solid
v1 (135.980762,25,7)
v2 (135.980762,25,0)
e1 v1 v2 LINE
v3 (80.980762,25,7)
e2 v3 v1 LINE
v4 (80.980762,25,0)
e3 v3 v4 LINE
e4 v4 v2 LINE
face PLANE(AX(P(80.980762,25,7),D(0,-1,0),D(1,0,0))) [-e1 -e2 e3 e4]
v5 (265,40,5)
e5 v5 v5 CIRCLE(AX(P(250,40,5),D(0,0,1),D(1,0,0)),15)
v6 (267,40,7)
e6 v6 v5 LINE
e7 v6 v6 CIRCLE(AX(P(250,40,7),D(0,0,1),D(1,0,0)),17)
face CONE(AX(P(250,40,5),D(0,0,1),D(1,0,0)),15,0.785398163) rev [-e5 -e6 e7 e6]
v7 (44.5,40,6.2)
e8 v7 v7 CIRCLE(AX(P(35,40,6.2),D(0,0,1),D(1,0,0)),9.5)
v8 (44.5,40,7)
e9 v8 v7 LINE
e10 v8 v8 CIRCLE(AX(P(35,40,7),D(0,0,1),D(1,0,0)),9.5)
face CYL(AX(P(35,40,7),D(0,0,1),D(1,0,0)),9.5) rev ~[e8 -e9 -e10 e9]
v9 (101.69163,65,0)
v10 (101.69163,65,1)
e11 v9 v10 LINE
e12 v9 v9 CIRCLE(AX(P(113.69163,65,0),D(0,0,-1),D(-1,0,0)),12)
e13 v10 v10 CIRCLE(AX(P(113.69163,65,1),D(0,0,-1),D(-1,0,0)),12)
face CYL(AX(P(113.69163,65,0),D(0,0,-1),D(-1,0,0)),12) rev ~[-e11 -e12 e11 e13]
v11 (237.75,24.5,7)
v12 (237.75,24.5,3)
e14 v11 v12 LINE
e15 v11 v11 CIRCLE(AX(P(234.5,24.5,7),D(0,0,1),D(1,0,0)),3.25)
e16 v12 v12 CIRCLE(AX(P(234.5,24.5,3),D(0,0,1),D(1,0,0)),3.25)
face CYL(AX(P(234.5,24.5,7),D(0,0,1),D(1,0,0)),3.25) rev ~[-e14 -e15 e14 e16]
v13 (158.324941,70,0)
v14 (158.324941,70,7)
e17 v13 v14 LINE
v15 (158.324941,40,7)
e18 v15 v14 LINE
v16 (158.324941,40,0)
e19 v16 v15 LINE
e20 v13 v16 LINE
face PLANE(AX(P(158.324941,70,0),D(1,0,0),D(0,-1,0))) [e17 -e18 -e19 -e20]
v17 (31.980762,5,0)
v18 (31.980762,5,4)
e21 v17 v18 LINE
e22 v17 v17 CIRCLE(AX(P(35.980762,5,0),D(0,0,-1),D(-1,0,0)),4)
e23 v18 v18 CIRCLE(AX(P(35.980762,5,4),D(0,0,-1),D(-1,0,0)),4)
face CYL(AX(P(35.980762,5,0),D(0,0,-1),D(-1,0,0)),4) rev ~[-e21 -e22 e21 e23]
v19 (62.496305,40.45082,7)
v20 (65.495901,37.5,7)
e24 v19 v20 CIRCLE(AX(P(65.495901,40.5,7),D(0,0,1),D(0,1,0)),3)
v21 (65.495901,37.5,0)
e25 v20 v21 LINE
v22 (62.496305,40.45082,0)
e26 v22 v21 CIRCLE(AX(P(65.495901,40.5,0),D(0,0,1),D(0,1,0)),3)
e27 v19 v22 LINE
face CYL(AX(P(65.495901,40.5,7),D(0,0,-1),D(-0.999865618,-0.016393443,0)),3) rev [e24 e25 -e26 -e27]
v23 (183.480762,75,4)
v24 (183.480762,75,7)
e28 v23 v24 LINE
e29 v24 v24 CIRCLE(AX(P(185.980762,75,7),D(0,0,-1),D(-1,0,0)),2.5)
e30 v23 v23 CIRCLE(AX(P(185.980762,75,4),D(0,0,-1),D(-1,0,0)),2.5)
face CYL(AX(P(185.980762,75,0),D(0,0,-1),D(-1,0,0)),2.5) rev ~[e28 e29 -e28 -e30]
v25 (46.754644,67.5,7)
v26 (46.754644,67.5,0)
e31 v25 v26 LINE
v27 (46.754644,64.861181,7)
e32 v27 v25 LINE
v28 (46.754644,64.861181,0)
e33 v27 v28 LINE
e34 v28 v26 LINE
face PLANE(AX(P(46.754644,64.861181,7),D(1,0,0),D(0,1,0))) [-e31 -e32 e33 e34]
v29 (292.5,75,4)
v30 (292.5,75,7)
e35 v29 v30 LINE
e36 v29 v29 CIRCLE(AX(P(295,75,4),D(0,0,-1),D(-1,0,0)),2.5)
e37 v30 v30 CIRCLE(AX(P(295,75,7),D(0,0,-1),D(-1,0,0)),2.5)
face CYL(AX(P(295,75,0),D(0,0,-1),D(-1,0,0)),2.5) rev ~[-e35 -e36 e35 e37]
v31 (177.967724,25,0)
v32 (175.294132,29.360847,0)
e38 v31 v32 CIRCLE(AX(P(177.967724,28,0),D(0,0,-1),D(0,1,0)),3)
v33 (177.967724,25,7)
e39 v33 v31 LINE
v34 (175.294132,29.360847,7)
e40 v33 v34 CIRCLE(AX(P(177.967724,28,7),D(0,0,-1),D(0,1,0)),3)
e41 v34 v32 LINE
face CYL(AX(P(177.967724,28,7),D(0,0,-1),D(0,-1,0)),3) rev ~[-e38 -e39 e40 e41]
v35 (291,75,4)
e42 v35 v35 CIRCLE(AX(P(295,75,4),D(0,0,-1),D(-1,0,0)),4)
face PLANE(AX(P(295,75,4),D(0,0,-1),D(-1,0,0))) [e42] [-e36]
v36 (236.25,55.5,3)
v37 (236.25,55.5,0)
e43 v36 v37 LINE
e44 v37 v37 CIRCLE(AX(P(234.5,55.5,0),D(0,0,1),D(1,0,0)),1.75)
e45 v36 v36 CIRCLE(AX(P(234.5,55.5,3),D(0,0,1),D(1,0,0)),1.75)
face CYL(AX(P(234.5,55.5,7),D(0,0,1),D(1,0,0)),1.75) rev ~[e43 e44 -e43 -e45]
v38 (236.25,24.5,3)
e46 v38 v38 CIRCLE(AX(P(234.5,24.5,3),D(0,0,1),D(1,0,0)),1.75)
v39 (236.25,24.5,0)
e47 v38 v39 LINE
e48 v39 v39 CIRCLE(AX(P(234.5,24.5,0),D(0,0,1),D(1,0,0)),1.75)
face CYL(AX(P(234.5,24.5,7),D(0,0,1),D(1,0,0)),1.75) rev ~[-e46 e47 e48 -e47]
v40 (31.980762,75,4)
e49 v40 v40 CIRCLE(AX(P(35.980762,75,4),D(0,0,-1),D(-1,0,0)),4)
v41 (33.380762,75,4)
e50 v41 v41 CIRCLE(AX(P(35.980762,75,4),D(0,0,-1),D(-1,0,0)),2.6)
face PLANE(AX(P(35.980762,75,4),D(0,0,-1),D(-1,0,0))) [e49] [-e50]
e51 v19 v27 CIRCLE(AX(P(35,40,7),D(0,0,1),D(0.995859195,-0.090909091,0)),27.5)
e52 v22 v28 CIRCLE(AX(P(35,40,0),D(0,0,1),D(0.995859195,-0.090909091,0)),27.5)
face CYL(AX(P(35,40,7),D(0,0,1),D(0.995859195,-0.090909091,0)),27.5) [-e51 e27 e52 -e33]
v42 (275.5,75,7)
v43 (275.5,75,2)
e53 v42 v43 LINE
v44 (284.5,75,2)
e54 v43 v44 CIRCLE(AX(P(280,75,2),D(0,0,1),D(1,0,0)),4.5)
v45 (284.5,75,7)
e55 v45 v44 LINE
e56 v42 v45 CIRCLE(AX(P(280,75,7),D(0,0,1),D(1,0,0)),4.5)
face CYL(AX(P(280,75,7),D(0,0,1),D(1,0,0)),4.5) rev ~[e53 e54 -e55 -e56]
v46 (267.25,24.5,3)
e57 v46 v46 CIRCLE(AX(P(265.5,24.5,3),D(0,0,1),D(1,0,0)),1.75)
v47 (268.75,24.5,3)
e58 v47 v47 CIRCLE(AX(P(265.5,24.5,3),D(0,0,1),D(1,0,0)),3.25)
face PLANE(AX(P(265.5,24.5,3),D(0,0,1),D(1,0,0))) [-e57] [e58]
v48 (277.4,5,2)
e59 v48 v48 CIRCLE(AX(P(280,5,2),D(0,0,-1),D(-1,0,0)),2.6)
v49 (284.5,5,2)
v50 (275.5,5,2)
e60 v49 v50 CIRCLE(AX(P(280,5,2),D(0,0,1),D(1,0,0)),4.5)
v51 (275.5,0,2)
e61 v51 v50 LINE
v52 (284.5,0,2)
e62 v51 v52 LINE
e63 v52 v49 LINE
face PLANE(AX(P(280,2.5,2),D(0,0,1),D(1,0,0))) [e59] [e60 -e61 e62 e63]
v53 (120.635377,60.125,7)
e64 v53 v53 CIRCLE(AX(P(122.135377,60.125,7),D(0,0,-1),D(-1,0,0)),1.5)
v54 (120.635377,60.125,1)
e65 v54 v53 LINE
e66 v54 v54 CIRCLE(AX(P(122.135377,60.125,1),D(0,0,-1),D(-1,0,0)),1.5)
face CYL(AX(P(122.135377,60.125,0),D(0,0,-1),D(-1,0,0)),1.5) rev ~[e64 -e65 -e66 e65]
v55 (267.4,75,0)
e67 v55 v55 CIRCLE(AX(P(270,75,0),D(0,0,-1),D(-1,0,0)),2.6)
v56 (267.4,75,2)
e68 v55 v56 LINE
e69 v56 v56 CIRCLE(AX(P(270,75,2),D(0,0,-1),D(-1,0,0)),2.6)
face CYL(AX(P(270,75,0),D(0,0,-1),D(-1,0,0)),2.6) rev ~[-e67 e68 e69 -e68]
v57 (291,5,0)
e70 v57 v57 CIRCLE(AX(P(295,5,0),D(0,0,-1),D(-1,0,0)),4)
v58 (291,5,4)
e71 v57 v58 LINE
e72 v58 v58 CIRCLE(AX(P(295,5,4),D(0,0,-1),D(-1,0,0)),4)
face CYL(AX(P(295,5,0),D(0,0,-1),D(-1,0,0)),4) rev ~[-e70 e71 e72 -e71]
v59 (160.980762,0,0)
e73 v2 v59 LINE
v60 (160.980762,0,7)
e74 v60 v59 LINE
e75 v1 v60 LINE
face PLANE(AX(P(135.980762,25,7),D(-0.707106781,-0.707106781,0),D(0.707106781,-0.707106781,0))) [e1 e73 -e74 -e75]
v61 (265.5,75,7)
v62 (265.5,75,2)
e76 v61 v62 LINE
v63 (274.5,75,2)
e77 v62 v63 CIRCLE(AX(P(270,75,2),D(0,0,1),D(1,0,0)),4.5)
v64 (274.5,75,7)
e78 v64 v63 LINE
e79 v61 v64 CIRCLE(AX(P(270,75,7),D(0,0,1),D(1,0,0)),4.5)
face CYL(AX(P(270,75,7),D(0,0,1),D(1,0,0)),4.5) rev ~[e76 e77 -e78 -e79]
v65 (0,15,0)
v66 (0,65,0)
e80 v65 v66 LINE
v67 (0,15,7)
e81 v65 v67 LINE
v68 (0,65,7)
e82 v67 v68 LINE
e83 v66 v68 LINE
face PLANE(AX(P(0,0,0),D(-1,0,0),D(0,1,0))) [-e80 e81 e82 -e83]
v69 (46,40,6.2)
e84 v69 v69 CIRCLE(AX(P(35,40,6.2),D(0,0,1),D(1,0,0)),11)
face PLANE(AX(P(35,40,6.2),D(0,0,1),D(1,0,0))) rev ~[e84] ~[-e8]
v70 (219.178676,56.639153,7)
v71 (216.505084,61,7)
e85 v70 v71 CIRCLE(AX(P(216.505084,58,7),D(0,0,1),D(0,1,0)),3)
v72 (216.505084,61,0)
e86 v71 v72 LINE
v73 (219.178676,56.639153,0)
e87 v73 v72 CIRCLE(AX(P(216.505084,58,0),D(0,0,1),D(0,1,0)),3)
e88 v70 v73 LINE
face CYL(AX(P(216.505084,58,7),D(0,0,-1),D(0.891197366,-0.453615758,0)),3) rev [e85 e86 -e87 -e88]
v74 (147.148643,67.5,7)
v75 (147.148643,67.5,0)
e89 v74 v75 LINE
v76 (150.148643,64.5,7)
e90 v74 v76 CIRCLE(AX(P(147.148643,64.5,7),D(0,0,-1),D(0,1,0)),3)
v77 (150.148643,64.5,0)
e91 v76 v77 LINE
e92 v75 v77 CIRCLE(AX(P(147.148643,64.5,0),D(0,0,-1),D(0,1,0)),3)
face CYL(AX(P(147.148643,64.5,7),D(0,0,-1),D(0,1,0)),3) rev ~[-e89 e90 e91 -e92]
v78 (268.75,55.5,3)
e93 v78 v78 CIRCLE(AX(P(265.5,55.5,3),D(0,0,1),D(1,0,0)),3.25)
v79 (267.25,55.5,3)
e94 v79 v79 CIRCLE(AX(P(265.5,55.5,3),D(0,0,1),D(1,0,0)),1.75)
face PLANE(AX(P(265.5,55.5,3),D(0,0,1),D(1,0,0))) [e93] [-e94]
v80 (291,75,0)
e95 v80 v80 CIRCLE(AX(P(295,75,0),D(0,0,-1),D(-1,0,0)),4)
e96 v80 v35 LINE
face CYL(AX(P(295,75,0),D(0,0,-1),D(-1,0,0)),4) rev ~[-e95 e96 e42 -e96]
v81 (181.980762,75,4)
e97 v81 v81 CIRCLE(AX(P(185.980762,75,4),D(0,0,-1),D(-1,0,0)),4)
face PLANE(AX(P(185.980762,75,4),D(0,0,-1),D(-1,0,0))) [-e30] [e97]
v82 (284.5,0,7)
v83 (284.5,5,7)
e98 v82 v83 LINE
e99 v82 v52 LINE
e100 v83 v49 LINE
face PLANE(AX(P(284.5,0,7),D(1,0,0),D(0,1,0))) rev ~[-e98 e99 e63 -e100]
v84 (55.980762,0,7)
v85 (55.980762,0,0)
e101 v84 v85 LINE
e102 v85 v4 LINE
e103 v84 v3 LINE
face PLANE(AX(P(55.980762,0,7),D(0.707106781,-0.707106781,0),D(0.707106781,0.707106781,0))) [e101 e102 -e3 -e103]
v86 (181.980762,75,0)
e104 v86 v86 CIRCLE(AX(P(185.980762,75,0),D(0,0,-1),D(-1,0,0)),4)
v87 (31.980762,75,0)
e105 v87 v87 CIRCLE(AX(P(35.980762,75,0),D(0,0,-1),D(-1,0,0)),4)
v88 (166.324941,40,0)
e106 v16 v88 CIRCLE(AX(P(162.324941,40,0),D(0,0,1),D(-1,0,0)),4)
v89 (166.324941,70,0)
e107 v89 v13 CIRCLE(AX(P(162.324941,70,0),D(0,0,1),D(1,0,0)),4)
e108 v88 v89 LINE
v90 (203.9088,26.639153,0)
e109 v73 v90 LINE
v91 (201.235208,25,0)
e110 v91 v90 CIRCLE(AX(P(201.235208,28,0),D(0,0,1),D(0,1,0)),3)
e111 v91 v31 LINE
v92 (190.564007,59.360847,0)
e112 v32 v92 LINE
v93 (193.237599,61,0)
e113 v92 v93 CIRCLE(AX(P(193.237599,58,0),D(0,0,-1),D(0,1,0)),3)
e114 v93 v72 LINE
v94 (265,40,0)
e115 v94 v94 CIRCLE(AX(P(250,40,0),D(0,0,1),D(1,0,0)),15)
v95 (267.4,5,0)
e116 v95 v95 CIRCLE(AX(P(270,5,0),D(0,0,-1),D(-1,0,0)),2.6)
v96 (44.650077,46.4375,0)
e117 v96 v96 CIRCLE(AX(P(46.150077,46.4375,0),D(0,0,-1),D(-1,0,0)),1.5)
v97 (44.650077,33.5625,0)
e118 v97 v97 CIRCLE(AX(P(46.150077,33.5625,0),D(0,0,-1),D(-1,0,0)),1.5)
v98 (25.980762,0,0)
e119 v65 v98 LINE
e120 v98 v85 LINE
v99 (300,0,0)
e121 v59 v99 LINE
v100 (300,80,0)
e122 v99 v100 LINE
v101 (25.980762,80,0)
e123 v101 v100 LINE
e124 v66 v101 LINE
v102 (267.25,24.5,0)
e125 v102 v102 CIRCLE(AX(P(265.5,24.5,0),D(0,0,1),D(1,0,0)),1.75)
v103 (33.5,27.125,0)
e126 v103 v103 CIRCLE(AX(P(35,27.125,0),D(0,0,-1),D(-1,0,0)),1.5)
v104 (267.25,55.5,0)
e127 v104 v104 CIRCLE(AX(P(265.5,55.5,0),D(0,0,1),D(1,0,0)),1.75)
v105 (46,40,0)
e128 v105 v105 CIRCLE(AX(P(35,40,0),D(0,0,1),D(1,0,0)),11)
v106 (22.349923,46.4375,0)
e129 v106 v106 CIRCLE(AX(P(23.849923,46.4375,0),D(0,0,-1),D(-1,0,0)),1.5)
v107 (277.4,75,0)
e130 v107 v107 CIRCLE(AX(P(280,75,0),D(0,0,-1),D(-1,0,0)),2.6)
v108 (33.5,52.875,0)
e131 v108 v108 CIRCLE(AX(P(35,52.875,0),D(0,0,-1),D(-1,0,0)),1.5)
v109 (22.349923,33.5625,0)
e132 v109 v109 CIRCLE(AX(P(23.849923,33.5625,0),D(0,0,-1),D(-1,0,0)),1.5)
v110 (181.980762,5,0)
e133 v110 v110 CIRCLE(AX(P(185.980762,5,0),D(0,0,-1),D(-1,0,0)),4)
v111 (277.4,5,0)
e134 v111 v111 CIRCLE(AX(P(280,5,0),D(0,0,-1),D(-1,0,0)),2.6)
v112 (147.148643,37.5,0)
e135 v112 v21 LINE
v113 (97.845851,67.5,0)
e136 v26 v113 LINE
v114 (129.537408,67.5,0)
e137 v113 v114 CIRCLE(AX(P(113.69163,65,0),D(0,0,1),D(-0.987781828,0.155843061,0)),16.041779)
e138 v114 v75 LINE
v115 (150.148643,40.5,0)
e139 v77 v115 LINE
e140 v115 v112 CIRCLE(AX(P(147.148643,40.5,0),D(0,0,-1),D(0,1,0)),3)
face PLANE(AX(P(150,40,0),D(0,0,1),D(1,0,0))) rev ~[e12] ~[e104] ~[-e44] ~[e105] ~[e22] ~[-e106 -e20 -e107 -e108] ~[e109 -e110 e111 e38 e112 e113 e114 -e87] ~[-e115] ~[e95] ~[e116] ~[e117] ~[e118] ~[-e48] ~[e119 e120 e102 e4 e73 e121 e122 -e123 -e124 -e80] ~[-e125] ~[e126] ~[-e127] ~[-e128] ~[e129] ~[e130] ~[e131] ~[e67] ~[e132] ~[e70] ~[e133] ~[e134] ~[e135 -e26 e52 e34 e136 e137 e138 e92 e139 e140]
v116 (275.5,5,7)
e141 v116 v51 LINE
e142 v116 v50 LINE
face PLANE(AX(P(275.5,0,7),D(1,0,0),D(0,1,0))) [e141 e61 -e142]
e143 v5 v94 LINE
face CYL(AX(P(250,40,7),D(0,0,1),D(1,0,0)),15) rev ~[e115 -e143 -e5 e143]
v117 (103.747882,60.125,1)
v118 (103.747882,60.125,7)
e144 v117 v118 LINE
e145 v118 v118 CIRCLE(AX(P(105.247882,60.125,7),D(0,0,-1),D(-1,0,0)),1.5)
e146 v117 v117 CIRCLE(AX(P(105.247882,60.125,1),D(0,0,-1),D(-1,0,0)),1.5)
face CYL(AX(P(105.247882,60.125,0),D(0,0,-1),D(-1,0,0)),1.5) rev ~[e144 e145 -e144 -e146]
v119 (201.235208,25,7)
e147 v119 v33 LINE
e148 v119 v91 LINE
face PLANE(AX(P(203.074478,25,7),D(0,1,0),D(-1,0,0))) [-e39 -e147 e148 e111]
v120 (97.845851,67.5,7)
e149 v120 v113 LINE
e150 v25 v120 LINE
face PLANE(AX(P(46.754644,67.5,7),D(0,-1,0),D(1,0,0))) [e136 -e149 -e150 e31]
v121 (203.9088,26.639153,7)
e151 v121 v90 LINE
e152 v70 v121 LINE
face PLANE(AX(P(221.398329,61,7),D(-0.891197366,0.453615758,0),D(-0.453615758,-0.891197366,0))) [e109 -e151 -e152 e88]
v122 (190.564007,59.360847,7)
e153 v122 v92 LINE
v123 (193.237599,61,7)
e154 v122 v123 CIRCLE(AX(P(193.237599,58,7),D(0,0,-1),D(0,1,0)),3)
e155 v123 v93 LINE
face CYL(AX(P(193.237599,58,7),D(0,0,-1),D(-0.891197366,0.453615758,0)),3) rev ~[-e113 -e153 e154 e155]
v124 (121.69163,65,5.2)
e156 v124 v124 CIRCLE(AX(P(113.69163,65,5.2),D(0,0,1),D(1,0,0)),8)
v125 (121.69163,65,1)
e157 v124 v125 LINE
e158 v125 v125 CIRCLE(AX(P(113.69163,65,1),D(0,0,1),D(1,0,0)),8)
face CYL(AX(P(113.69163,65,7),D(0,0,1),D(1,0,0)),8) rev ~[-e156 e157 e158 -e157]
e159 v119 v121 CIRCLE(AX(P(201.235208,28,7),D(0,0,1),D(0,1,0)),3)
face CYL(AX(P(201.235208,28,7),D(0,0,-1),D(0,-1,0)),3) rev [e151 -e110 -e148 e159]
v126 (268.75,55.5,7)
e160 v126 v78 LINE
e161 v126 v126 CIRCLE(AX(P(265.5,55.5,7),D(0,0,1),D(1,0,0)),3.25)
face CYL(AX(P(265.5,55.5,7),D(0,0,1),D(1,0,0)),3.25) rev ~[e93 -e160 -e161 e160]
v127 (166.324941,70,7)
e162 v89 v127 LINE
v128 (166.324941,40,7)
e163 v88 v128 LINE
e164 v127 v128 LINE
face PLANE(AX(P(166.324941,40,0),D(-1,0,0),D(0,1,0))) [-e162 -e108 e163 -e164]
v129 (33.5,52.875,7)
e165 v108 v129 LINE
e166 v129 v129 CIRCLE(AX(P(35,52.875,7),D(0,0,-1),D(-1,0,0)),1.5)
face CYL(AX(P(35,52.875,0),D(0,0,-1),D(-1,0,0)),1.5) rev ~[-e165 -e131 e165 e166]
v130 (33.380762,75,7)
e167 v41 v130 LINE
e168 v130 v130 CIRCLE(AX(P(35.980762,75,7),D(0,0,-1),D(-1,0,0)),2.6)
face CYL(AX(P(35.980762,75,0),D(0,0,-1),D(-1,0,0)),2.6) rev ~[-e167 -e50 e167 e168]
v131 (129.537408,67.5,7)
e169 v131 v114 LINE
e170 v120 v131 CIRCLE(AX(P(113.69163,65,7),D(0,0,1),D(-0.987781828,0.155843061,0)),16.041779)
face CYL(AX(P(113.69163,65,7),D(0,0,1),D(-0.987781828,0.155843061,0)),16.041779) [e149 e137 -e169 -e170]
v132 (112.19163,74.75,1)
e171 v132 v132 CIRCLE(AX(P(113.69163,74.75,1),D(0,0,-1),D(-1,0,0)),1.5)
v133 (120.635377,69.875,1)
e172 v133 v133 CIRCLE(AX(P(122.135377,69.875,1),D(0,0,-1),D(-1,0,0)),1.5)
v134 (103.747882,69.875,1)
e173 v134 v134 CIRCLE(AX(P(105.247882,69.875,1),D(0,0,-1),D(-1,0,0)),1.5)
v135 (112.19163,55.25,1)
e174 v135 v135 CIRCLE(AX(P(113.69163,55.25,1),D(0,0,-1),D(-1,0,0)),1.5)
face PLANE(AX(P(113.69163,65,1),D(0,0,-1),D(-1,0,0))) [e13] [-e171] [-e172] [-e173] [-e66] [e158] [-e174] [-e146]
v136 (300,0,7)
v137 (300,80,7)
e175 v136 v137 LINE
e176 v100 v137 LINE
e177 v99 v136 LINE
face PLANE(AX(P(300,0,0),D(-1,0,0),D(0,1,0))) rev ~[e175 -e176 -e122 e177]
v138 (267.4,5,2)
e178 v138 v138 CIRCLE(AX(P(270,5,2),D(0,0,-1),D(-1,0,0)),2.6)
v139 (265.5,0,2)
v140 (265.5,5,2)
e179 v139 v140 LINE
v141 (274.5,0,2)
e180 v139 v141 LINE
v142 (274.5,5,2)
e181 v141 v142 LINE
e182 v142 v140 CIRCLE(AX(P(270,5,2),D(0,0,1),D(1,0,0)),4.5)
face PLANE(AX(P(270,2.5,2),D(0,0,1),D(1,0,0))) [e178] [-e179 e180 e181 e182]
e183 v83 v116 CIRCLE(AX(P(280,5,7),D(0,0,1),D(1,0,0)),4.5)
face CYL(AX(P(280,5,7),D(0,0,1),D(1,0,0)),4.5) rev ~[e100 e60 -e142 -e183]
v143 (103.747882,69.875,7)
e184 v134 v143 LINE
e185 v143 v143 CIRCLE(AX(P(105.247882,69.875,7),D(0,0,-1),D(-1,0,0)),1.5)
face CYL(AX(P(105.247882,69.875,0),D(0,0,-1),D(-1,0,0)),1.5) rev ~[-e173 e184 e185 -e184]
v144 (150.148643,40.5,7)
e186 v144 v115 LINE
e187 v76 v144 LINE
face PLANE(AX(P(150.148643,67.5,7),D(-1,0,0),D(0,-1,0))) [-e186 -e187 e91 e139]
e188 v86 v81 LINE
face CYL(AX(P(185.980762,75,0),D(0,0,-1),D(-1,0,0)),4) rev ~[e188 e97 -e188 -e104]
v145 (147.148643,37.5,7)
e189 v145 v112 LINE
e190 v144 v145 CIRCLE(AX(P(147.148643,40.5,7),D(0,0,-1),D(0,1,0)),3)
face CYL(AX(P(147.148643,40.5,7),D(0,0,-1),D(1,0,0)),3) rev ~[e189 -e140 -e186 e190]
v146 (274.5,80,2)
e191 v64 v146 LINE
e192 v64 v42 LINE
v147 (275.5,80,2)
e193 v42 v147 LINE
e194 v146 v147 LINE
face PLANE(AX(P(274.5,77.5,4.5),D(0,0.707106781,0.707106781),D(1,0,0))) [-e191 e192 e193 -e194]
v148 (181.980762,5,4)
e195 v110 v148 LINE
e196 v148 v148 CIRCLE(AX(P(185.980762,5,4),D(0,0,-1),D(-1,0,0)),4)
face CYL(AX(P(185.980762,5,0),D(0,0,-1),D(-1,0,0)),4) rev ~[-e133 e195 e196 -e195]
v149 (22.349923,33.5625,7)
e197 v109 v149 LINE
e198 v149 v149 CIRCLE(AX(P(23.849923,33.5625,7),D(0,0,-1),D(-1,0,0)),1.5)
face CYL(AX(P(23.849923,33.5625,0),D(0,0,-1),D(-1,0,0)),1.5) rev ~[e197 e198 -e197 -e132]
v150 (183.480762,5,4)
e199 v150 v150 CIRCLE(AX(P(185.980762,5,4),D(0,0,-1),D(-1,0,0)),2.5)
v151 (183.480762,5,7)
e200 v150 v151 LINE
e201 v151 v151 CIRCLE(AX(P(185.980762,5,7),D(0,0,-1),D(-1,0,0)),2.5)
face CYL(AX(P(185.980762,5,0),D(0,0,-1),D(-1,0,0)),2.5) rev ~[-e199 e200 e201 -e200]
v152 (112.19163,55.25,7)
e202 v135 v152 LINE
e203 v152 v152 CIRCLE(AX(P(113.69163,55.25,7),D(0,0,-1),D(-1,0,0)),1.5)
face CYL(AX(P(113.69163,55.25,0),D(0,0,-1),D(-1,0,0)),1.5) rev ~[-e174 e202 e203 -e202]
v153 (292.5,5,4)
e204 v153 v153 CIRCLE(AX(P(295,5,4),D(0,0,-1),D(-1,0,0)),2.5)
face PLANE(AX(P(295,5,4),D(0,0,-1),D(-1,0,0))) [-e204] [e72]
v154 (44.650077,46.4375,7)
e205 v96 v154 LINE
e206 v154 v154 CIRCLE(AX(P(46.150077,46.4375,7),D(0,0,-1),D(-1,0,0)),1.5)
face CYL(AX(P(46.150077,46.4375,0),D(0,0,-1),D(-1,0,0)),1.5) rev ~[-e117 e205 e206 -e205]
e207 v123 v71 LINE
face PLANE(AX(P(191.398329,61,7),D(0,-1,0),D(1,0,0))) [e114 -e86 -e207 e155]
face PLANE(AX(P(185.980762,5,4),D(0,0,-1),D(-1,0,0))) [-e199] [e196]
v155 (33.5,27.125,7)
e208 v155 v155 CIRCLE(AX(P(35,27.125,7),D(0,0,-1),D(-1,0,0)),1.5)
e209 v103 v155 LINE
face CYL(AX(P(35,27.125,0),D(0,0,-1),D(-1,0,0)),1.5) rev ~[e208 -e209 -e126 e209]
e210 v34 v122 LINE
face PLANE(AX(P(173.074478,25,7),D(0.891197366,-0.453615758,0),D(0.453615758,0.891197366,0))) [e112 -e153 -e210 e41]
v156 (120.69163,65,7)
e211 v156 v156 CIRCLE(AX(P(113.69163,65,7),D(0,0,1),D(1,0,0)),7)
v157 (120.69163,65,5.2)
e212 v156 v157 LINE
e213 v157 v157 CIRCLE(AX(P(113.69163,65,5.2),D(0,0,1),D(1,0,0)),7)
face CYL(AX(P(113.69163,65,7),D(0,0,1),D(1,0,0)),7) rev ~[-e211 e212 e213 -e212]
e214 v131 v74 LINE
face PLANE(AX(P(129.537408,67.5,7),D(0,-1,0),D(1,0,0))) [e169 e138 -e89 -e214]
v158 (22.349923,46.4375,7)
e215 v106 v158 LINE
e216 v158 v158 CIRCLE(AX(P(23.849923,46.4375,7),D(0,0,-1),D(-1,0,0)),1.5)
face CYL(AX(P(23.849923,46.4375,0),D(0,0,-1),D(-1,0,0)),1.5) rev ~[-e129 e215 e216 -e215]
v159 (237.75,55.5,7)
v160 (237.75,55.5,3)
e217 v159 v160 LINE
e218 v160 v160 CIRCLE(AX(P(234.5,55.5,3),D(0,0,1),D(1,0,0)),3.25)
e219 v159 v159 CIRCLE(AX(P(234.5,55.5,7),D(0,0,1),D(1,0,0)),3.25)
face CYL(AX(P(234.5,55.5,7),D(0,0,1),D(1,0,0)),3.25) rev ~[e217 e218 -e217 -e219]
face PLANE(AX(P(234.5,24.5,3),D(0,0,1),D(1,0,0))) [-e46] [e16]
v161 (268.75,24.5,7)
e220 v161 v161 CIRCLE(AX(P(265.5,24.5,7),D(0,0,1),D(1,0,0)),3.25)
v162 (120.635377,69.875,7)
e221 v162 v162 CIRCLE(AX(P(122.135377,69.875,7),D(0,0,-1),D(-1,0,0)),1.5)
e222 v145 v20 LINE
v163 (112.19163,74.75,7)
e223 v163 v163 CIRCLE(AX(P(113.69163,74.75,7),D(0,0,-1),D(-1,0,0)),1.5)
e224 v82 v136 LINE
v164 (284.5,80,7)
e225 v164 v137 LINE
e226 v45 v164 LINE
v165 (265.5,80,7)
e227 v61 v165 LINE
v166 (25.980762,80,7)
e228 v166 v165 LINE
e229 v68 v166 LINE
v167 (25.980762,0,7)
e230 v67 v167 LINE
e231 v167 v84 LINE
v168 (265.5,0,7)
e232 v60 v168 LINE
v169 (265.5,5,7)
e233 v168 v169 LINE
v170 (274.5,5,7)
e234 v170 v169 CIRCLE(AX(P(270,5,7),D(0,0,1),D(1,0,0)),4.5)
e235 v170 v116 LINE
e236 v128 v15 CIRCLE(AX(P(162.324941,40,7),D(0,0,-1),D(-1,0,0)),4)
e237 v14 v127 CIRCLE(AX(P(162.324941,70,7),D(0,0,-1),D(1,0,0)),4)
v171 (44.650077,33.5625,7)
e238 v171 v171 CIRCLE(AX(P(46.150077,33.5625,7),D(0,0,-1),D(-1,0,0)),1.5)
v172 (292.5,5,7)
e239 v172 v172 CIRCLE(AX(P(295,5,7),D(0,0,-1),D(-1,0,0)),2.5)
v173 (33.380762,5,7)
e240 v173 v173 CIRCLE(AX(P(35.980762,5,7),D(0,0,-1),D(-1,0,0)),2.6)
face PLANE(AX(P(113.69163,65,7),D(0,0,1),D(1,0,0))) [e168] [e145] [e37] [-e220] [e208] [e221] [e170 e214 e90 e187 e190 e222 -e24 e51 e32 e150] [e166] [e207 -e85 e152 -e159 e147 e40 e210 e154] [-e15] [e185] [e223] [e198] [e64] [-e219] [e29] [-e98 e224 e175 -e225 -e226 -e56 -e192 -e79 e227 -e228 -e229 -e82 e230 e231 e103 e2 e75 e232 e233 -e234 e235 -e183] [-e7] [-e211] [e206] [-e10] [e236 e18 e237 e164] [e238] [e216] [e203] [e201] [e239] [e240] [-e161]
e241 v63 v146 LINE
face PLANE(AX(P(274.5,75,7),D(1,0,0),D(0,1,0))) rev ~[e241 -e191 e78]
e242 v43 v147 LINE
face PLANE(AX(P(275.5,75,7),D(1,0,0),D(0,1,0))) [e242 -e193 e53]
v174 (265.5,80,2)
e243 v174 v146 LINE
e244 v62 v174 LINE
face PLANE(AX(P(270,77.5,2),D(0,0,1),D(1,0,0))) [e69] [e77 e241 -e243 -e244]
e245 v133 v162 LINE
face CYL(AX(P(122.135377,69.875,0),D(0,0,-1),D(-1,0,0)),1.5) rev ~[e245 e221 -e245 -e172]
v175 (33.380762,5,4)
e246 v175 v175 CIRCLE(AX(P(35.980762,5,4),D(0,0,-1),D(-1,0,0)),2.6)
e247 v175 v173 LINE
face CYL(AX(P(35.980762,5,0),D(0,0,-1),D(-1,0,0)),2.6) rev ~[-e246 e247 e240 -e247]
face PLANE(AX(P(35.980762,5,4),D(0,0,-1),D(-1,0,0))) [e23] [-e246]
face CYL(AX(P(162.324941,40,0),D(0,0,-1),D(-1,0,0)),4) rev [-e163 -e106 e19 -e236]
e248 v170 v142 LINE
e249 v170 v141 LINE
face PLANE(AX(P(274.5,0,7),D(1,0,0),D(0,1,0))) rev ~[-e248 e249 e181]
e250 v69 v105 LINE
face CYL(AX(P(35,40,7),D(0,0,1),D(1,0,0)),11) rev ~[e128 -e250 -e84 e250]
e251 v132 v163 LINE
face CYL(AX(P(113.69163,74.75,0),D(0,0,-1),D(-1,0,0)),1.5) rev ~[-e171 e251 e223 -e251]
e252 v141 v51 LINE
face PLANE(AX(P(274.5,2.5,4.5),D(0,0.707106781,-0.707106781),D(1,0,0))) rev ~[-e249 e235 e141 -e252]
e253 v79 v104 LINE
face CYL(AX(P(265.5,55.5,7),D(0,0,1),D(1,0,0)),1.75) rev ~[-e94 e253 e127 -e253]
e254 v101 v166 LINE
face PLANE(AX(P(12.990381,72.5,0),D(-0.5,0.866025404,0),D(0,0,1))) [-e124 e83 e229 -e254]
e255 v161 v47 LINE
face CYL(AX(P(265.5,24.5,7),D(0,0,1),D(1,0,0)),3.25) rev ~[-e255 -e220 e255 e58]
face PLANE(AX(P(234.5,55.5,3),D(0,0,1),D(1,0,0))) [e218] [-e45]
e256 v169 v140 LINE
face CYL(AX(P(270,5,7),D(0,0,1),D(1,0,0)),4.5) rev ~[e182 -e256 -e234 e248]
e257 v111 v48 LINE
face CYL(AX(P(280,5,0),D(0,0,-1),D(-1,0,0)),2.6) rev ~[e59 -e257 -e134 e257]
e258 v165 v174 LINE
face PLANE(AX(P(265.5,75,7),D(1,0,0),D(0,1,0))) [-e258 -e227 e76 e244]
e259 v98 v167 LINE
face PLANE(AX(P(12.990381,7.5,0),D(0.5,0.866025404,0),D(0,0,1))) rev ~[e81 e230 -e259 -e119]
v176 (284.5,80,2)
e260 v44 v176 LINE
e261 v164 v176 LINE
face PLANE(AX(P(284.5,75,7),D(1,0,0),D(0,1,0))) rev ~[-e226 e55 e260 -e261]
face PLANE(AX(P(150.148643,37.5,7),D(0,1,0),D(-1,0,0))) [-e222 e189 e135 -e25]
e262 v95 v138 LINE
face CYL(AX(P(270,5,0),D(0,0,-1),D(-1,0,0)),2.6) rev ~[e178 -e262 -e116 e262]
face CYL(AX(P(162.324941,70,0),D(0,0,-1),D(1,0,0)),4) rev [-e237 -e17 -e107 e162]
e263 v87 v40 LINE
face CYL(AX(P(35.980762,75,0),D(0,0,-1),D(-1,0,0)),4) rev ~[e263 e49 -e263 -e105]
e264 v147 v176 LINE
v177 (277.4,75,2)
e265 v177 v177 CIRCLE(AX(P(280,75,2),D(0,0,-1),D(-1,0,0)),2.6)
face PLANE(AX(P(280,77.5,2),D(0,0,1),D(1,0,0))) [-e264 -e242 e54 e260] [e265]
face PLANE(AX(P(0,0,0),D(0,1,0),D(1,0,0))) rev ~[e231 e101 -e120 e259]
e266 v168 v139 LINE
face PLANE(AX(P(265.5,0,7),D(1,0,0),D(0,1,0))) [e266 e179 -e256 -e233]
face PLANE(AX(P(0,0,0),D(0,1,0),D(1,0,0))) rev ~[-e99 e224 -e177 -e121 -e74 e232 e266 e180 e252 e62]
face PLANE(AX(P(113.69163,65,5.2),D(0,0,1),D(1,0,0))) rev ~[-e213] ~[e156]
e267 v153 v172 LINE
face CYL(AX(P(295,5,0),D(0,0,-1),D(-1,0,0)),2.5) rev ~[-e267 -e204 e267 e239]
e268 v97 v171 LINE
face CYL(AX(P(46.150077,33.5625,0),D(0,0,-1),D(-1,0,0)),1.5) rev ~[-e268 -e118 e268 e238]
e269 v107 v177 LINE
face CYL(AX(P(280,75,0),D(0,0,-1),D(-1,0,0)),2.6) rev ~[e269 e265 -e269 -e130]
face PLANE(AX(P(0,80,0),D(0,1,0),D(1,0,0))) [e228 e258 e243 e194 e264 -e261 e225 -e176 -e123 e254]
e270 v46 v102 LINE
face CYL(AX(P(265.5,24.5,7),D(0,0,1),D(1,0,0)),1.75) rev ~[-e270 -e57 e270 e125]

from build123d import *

# Parameters (mm, degrees)
SKETCH1_W           = 300
SKETCH1_H           = 80
BOSS_EXTRUDE1_DEPTH = 7
CHAMFER1_SIZE       = 15
CHAMFER1_SIZE2      = 25.980762114
CHAMFER3_SIZE       = 15
CHAMFER3_SIZE2      = 25.980762114
SKETCH2_R           = 11
CUT_EXTRUDE1_DEPTH  = 10
SKETCH3_R           = 11
SKETCH3_R_2         = 9.5
BOSS_EXTRUDE3_DEPTH = 0.8
CUT_EXTRUDE2_DEPTH  = 8
SKETCH5_R           = 15
CUT_EXTRUDE3_DEPTH  = 8
CUT_EXTRUDE4_DEPTH  = 8
SKETCH7_R           = 8
CUT_EXTRUDE6_DEPTH  = 8
SKETCH8_R           = 8
SKETCH8_R_2         = 7
BOSS_EXTRUDE4_DEPTH = 1.8
SKETCH9_R           = 1.5
CUT_EXTRUDE7_DEPTH  = 8
SKETCH10_R          = 12
CUT_EXTRUDE8_DEPTH  = 1
SKETCH11_R          = 1.5
CUT_EXTRUDE9_DEPTH  = 8
SKETCH12_R          = 2.6
SKETCH12_R_2        = 2.5
CUT_EXTRUDE10_DEPTH = 8
SKETCH13_R          = 4
CUT_EXTRUDE11_DEPTH = 4
SKETCH14_R          = 1.75
CUT_EXTRUDE12_DEPTH = 8
CUT_EXTRUDE13_DEPTH = 8
CUT_EXTRUDE14_DEPTH = 8
CUT_EXTRUDE15_DEPTH = 8
SKETCH18_R          = 3.25
CUT_EXTRUDE16_DEPTH = 4
CHAMFER4_SIZE       = 2
FILLET1_R           = 3
FILLET2_R           = 3
SKETCH19_R          = 2.6
CUT_EXTRUDE17_DEPTH = 8
SKETCH20_R          = 4.5
CUT_EXTRUDE18_DEPTH = 5
SKETCH21_W          = 9
SKETCH21_H          = 5
CUT_EXTRUDE19_DEPTH = 5
CHAMFER5_SIZE       = 5


with BuildPart() as part:
    # Sketch1 → Boss-Extrude1 (new body)
    with BuildSketch(Plane.XY):
        with Locations((150, 40)):
            Rectangle(SKETCH1_W, SKETCH1_H)
    extrude(amount=BOSS_EXTRUDE1_DEPTH)

    # Chamfer1
    chamfer1_edges = [part.edges().sort_by_distance(p)[0] for p in [
        (0, 0, 3.5),
    ]]
    chamfer1_side = [part.faces().sort_by_distance(p)[0] for p in [
        (0, 40, 3.5),
    ]]
    chamfer(chamfer1_edges, length=CHAMFER1_SIZE, length2=CHAMFER1_SIZE2, reference=chamfer1_side[0])

    # Chamfer3
    chamfer3_edges = [part.edges().sort_by_distance(p)[0] for p in [
        (0, 80, 3.5),
    ]]
    chamfer3_side = [part.faces().sort_by_distance(p)[0] for p in [
        (0, 47.5, 3.5),
    ]]
    chamfer(chamfer3_edges, length=CHAMFER3_SIZE, length2=CHAMFER3_SIZE2, reference=chamfer3_side[0])

    # Sketch2 → Cut-Extrude1 (cut)
    with BuildSketch(Plane.XY.offset(7)):
        with Locations((35, 40)):
            Circle(SKETCH2_R)
    extrude(amount=-CUT_EXTRUDE1_DEPTH, mode=Mode.SUBTRACT)

    # Sketch3 → Boss-Extrude3 (add)
    with BuildSketch(Plane.XY.offset(7)):
        with Locations((35, 40)):
            Circle(SKETCH3_R)
        with Locations((35, 40)):
            Circle(SKETCH3_R_2, mode=Mode.SUBTRACT)
    extrude(amount=-BOSS_EXTRUDE3_DEPTH)

    # Sketch4 → Cut-Extrude2 (cut, through all)
    with BuildSketch(Plane.XY.offset(7)):
        with BuildLine():
            Line((163.324941262, 70), (163.324941262, 40))
            ThreePointArc((163.324941262, 40), (162.324941262, 39), (161.324941262, 40))
            Line((161.324941262, 40), (161.324941262, 70))
            ThreePointArc((161.324941262, 70), (162.324941262, 71), (163.324941262, 70))
        make_face()
    extrude(amount=-CUT_EXTRUDE2_DEPTH, mode=Mode.SUBTRACT)

    # Sketch5 → Cut-Extrude3 (cut, through all)
    with BuildSketch(Plane.XY.offset(7)):
        with Locations((250, 40)):
            Circle(SKETCH5_R)
    extrude(amount=-CUT_EXTRUDE3_DEPTH, mode=Mode.SUBTRACT)

    # Sketch6 → Cut-Extrude4 (cut)
    with BuildSketch(Plane(origin=(0, 0, 0), x_dir=(-1, 0, 0), z_dir=(0, 0, -1))):
        with BuildLine():
            Line((-158.324941262, 70), (-158.324941262, 40))
            ThreePointArc((-158.324941262, 40), (-162.324941262, 36), (-166.324941262, 40))
            Line((-166.324941262, 40), (-166.324941262, 70))
            ThreePointArc((-166.324941262, 70), (-162.324941262, 74), (-158.324941262, 70))
        make_face()
    extrude(amount=-CUT_EXTRUDE4_DEPTH, mode=Mode.SUBTRACT)

    # Sketch7 → Cut-Extrude6 (cut, through all)
    with BuildSketch(Plane.XY.offset(7)):
        with Locations((113.691629607, 65)):
            Circle(SKETCH7_R)
    extrude(amount=-CUT_EXTRUDE6_DEPTH, mode=Mode.SUBTRACT)

    # Sketch8 → Boss-Extrude4 (add)
    with BuildSketch(Plane.XY.offset(7)):
        with Locations((113.691629607, 65)):
            Circle(SKETCH8_R)
        with Locations((113.691629607, 65)):
            Circle(SKETCH8_R_2, mode=Mode.SUBTRACT)
    extrude(amount=-BOSS_EXTRUDE4_DEPTH)

    # Sketch9 → Cut-Extrude7 (cut, through all)
    with BuildSketch(Plane(origin=(0, 0, 0), x_dir=(-1, 0, 0), z_dir=(0, 0, -1))):
        with Locations((-113.691629607, 74.75)):
            Circle(SKETCH9_R)
        with Locations((-105.24788192, 69.875)):
            Circle(SKETCH9_R)
        with Locations((-105.24788192, 60.125)):
            Circle(SKETCH9_R)
        with Locations((-113.691629607, 55.25)):
            Circle(SKETCH9_R)
        with Locations((-122.135377294, 60.125)):
            Circle(SKETCH9_R)
        with Locations((-122.135377294, 69.875)):
            Circle(SKETCH9_R)
    extrude(amount=-CUT_EXTRUDE7_DEPTH, mode=Mode.SUBTRACT)

    # Sketch10 → Cut-Extrude8 (cut)
    with BuildSketch(Plane(origin=(0, 0, 0), x_dir=(-1, 0, 0), z_dir=(0, 0, -1))):
        with Locations((-113.691629607, 65)):
            Circle(SKETCH10_R)
    extrude(amount=-CUT_EXTRUDE8_DEPTH, mode=Mode.SUBTRACT)

    # Sketch11 → Cut-Extrude9 (cut, through all)
    with BuildSketch(Plane(origin=(0, 0, 0), x_dir=(-1, 0, 0), z_dir=(0, 0, -1))):
        with Locations((-35, 52.875)):
            Circle(SKETCH11_R)
        with Locations((-23.849922926, 46.4375)):
            Circle(SKETCH11_R)
        with Locations((-23.849922926, 33.5625)):
            Circle(SKETCH11_R)
        with Locations((-35, 27.125)):
            Circle(SKETCH11_R)
        with Locations((-46.150077074, 33.5625)):
            Circle(SKETCH11_R)
        with Locations((-46.150077074, 46.4375)):
            Circle(SKETCH11_R)
    extrude(amount=-CUT_EXTRUDE9_DEPTH, mode=Mode.SUBTRACT)

    # Sketch12 → Cut-Extrude10 (cut, through all)
    with BuildSketch(Plane(origin=(0, 0, 0), x_dir=(-1, 0, 0), z_dir=(0, 0, -1))):
        with Locations((-35.980762114, 75)):
            Circle(SKETCH12_R)
        with Locations((-185.980762114, 75)):
            Circle(SKETCH12_R_2)
        with Locations((-295, 75)):
            Circle(SKETCH12_R_2)
        with Locations((-35.980762114, 5)):
            Circle(SKETCH12_R)
        with Locations((-185.980762114, 5)):
            Circle(SKETCH12_R_2)
        with Locations((-295, 5)):
            Circle(SKETCH12_R_2)
    extrude(amount=-CUT_EXTRUDE10_DEPTH, mode=Mode.SUBTRACT)

    # Sketch13 → Cut-Extrude11 (cut)
    with BuildSketch(Plane(origin=(0, 0, 0), x_dir=(-1, 0, 0), z_dir=(0, 0, -1))):
        with Locations((-295, 75)):
            Circle(SKETCH13_R)
        with Locations((-185.980762114, 75)):
            Circle(SKETCH13_R)
        with Locations((-35.980762114, 75)):
            Circle(SKETCH13_R)
        with Locations((-35.980762114, 5)):
            Circle(SKETCH13_R)
        with Locations((-185.980762114, 5)):
            Circle(SKETCH13_R)
        with Locations((-295, 5)):
            Circle(SKETCH13_R)
    extrude(amount=-CUT_EXTRUDE11_DEPTH, mode=Mode.SUBTRACT)

    # Sketch14 → Cut-Extrude12 (cut, through all)
    with BuildSketch(Plane.XY.offset(7)):
        with Locations((234.5, 55.5)):
            Circle(SKETCH14_R)
        with Locations((265.5, 55.5)):
            Circle(SKETCH14_R)
        with Locations((234.5, 24.5)):
            Circle(SKETCH14_R)
        with Locations((265.5, 24.5)):
            Circle(SKETCH14_R)
    extrude(amount=-CUT_EXTRUDE12_DEPTH, mode=Mode.SUBTRACT)

    # Sketch15 → Cut-Extrude13 (cut, through all)
    with BuildSketch(Plane.XY.offset(7)):
        Polygon((55.980762114, 0), (80.980762114, 25), (135.980762114, 25), (160.980762114, 0), align=None)
    extrude(amount=-CUT_EXTRUDE13_DEPTH, mode=Mode.SUBTRACT)

    # Sketch16 → Cut-Extrude14 (cut, through all)
    with BuildSketch(Plane.XY.offset(7)):
        Polygon((173.074478381, 25), (191.398328859, 61), (221.398328859, 61), (203.074478381, 25), align=None)
    extrude(amount=-CUT_EXTRUDE14_DEPTH, mode=Mode.SUBTRACT)

    # Sketch17 → Cut-Extrude15 (cut, through all)
    with BuildSketch(Plane.XY.offset(7)):
        with BuildLine():
            Line((129.537407736, 67.5), (150.148643313, 67.5))
            Line((150.148643313, 67.5), (150.148643313, 37.5))
            Line((150.148643313, 37.5), (62.386127875, 37.5))
            ThreePointArc((62.386127875, 37.5), (58.87799347, 53.641533192), (46.754644264, 64.861181352))
            Line((46.754644264, 64.861181352), (46.754644264, 67.5))
            Line((46.754644264, 67.5), (97.845851478, 67.5))
            ThreePointArc((97.845851478, 67.5), (113.691629607, 48.958220657), (129.537407736, 67.5))
        make_face()
    extrude(amount=-CUT_EXTRUDE15_DEPTH, mode=Mode.SUBTRACT)

    # Sketch18 → Cut-Extrude16 (cut)
    with BuildSketch(Plane.XY.offset(7)):
        with Locations((234.5, 55.5)):
            Circle(SKETCH18_R)
        with Locations((265.5, 55.5)):
            Circle(SKETCH18_R)
        with Locations((265.5, 24.5)):
            Circle(SKETCH18_R)
        with Locations((234.5, 24.5)):
            Circle(SKETCH18_R)
    extrude(amount=-CUT_EXTRUDE16_DEPTH, mode=Mode.SUBTRACT)

    # Chamfer4
    chamfer4_edges = [part.edges().sort_by_distance(p)[0] for p in [
        (235, 40, 7),
    ]]
    chamfer(chamfer4_edges, length=CHAMFER4_SIZE)

    # Fillet1
    fillet1_edges = [part.edges().sort_by_distance(p)[0] for p in [
        (203.074478381, 25, 3.5),
        (173.074478381, 25, 3.5),
        (191.398328859, 61, 3.5),
        (221.398328859, 61, 3.5),
    ]]
    fillet(fillet1_edges, radius=FILLET1_R)

    # Fillet2
    fillet2_edges = [part.edges().sort_by_distance(p)[0] for p in [
        (150.148643313, 67.5, 3.5),
        (150.148643313, 37.5, 3.5),
        (62.386127875, 37.5, 3.5),
    ]]
    fillet(fillet2_edges, radius=FILLET2_R)

    # Sketch19 → Cut-Extrude17 (cut, through all)
    with BuildSketch(Plane(origin=(0, 0, 0), x_dir=(-1, 0, 0), z_dir=(0, 0, -1))):
        with Locations((-280, 75)):
            Circle(SKETCH19_R)
        with Locations((-270, 75)):
            Circle(SKETCH19_R)
        with Locations((-270, 5)):
            Circle(SKETCH19_R)
        with Locations((-280, 5)):
            Circle(SKETCH19_R)
    extrude(amount=-CUT_EXTRUDE17_DEPTH, mode=Mode.SUBTRACT)

    # Sketch20 → Cut-Extrude18 (cut)
    with BuildSketch(Plane.XY.offset(7)):
        with Locations((270, 75)):
            Circle(SKETCH20_R)
        with Locations((280, 75)):
            Circle(SKETCH20_R)
        with Locations((280, 5)):
            Circle(SKETCH20_R)
        with Locations((270, 5)):
            Circle(SKETCH20_R)
    extrude(amount=-CUT_EXTRUDE18_DEPTH, mode=Mode.SUBTRACT)

    # Sketch21 → Cut-Extrude19 (cut)
    with BuildSketch(Plane.XY.offset(7)):
        with Locations((270, 77.5)):
            Rectangle(SKETCH21_W, SKETCH21_H)
        with Locations((280, 77.5)):
            Rectangle(SKETCH21_W, SKETCH21_H)
        with Locations((270, 2.5)):
            Rectangle(SKETCH21_W, SKETCH21_H)
        with Locations((280, 2.5)):
            Rectangle(SKETCH21_W, SKETCH21_H)
    extrude(amount=-CUT_EXTRUDE19_DEPTH, mode=Mode.SUBTRACT)

    # Chamfer5
    chamfer5_edges = [part.edges().sort_by_distance(p)[0] for p in [
        (275, 0, 7),
        (275, 80, 7),
    ]]
    chamfer(chamfer5_edges, length=CHAMFER5_SIZE)


solid = part.part
